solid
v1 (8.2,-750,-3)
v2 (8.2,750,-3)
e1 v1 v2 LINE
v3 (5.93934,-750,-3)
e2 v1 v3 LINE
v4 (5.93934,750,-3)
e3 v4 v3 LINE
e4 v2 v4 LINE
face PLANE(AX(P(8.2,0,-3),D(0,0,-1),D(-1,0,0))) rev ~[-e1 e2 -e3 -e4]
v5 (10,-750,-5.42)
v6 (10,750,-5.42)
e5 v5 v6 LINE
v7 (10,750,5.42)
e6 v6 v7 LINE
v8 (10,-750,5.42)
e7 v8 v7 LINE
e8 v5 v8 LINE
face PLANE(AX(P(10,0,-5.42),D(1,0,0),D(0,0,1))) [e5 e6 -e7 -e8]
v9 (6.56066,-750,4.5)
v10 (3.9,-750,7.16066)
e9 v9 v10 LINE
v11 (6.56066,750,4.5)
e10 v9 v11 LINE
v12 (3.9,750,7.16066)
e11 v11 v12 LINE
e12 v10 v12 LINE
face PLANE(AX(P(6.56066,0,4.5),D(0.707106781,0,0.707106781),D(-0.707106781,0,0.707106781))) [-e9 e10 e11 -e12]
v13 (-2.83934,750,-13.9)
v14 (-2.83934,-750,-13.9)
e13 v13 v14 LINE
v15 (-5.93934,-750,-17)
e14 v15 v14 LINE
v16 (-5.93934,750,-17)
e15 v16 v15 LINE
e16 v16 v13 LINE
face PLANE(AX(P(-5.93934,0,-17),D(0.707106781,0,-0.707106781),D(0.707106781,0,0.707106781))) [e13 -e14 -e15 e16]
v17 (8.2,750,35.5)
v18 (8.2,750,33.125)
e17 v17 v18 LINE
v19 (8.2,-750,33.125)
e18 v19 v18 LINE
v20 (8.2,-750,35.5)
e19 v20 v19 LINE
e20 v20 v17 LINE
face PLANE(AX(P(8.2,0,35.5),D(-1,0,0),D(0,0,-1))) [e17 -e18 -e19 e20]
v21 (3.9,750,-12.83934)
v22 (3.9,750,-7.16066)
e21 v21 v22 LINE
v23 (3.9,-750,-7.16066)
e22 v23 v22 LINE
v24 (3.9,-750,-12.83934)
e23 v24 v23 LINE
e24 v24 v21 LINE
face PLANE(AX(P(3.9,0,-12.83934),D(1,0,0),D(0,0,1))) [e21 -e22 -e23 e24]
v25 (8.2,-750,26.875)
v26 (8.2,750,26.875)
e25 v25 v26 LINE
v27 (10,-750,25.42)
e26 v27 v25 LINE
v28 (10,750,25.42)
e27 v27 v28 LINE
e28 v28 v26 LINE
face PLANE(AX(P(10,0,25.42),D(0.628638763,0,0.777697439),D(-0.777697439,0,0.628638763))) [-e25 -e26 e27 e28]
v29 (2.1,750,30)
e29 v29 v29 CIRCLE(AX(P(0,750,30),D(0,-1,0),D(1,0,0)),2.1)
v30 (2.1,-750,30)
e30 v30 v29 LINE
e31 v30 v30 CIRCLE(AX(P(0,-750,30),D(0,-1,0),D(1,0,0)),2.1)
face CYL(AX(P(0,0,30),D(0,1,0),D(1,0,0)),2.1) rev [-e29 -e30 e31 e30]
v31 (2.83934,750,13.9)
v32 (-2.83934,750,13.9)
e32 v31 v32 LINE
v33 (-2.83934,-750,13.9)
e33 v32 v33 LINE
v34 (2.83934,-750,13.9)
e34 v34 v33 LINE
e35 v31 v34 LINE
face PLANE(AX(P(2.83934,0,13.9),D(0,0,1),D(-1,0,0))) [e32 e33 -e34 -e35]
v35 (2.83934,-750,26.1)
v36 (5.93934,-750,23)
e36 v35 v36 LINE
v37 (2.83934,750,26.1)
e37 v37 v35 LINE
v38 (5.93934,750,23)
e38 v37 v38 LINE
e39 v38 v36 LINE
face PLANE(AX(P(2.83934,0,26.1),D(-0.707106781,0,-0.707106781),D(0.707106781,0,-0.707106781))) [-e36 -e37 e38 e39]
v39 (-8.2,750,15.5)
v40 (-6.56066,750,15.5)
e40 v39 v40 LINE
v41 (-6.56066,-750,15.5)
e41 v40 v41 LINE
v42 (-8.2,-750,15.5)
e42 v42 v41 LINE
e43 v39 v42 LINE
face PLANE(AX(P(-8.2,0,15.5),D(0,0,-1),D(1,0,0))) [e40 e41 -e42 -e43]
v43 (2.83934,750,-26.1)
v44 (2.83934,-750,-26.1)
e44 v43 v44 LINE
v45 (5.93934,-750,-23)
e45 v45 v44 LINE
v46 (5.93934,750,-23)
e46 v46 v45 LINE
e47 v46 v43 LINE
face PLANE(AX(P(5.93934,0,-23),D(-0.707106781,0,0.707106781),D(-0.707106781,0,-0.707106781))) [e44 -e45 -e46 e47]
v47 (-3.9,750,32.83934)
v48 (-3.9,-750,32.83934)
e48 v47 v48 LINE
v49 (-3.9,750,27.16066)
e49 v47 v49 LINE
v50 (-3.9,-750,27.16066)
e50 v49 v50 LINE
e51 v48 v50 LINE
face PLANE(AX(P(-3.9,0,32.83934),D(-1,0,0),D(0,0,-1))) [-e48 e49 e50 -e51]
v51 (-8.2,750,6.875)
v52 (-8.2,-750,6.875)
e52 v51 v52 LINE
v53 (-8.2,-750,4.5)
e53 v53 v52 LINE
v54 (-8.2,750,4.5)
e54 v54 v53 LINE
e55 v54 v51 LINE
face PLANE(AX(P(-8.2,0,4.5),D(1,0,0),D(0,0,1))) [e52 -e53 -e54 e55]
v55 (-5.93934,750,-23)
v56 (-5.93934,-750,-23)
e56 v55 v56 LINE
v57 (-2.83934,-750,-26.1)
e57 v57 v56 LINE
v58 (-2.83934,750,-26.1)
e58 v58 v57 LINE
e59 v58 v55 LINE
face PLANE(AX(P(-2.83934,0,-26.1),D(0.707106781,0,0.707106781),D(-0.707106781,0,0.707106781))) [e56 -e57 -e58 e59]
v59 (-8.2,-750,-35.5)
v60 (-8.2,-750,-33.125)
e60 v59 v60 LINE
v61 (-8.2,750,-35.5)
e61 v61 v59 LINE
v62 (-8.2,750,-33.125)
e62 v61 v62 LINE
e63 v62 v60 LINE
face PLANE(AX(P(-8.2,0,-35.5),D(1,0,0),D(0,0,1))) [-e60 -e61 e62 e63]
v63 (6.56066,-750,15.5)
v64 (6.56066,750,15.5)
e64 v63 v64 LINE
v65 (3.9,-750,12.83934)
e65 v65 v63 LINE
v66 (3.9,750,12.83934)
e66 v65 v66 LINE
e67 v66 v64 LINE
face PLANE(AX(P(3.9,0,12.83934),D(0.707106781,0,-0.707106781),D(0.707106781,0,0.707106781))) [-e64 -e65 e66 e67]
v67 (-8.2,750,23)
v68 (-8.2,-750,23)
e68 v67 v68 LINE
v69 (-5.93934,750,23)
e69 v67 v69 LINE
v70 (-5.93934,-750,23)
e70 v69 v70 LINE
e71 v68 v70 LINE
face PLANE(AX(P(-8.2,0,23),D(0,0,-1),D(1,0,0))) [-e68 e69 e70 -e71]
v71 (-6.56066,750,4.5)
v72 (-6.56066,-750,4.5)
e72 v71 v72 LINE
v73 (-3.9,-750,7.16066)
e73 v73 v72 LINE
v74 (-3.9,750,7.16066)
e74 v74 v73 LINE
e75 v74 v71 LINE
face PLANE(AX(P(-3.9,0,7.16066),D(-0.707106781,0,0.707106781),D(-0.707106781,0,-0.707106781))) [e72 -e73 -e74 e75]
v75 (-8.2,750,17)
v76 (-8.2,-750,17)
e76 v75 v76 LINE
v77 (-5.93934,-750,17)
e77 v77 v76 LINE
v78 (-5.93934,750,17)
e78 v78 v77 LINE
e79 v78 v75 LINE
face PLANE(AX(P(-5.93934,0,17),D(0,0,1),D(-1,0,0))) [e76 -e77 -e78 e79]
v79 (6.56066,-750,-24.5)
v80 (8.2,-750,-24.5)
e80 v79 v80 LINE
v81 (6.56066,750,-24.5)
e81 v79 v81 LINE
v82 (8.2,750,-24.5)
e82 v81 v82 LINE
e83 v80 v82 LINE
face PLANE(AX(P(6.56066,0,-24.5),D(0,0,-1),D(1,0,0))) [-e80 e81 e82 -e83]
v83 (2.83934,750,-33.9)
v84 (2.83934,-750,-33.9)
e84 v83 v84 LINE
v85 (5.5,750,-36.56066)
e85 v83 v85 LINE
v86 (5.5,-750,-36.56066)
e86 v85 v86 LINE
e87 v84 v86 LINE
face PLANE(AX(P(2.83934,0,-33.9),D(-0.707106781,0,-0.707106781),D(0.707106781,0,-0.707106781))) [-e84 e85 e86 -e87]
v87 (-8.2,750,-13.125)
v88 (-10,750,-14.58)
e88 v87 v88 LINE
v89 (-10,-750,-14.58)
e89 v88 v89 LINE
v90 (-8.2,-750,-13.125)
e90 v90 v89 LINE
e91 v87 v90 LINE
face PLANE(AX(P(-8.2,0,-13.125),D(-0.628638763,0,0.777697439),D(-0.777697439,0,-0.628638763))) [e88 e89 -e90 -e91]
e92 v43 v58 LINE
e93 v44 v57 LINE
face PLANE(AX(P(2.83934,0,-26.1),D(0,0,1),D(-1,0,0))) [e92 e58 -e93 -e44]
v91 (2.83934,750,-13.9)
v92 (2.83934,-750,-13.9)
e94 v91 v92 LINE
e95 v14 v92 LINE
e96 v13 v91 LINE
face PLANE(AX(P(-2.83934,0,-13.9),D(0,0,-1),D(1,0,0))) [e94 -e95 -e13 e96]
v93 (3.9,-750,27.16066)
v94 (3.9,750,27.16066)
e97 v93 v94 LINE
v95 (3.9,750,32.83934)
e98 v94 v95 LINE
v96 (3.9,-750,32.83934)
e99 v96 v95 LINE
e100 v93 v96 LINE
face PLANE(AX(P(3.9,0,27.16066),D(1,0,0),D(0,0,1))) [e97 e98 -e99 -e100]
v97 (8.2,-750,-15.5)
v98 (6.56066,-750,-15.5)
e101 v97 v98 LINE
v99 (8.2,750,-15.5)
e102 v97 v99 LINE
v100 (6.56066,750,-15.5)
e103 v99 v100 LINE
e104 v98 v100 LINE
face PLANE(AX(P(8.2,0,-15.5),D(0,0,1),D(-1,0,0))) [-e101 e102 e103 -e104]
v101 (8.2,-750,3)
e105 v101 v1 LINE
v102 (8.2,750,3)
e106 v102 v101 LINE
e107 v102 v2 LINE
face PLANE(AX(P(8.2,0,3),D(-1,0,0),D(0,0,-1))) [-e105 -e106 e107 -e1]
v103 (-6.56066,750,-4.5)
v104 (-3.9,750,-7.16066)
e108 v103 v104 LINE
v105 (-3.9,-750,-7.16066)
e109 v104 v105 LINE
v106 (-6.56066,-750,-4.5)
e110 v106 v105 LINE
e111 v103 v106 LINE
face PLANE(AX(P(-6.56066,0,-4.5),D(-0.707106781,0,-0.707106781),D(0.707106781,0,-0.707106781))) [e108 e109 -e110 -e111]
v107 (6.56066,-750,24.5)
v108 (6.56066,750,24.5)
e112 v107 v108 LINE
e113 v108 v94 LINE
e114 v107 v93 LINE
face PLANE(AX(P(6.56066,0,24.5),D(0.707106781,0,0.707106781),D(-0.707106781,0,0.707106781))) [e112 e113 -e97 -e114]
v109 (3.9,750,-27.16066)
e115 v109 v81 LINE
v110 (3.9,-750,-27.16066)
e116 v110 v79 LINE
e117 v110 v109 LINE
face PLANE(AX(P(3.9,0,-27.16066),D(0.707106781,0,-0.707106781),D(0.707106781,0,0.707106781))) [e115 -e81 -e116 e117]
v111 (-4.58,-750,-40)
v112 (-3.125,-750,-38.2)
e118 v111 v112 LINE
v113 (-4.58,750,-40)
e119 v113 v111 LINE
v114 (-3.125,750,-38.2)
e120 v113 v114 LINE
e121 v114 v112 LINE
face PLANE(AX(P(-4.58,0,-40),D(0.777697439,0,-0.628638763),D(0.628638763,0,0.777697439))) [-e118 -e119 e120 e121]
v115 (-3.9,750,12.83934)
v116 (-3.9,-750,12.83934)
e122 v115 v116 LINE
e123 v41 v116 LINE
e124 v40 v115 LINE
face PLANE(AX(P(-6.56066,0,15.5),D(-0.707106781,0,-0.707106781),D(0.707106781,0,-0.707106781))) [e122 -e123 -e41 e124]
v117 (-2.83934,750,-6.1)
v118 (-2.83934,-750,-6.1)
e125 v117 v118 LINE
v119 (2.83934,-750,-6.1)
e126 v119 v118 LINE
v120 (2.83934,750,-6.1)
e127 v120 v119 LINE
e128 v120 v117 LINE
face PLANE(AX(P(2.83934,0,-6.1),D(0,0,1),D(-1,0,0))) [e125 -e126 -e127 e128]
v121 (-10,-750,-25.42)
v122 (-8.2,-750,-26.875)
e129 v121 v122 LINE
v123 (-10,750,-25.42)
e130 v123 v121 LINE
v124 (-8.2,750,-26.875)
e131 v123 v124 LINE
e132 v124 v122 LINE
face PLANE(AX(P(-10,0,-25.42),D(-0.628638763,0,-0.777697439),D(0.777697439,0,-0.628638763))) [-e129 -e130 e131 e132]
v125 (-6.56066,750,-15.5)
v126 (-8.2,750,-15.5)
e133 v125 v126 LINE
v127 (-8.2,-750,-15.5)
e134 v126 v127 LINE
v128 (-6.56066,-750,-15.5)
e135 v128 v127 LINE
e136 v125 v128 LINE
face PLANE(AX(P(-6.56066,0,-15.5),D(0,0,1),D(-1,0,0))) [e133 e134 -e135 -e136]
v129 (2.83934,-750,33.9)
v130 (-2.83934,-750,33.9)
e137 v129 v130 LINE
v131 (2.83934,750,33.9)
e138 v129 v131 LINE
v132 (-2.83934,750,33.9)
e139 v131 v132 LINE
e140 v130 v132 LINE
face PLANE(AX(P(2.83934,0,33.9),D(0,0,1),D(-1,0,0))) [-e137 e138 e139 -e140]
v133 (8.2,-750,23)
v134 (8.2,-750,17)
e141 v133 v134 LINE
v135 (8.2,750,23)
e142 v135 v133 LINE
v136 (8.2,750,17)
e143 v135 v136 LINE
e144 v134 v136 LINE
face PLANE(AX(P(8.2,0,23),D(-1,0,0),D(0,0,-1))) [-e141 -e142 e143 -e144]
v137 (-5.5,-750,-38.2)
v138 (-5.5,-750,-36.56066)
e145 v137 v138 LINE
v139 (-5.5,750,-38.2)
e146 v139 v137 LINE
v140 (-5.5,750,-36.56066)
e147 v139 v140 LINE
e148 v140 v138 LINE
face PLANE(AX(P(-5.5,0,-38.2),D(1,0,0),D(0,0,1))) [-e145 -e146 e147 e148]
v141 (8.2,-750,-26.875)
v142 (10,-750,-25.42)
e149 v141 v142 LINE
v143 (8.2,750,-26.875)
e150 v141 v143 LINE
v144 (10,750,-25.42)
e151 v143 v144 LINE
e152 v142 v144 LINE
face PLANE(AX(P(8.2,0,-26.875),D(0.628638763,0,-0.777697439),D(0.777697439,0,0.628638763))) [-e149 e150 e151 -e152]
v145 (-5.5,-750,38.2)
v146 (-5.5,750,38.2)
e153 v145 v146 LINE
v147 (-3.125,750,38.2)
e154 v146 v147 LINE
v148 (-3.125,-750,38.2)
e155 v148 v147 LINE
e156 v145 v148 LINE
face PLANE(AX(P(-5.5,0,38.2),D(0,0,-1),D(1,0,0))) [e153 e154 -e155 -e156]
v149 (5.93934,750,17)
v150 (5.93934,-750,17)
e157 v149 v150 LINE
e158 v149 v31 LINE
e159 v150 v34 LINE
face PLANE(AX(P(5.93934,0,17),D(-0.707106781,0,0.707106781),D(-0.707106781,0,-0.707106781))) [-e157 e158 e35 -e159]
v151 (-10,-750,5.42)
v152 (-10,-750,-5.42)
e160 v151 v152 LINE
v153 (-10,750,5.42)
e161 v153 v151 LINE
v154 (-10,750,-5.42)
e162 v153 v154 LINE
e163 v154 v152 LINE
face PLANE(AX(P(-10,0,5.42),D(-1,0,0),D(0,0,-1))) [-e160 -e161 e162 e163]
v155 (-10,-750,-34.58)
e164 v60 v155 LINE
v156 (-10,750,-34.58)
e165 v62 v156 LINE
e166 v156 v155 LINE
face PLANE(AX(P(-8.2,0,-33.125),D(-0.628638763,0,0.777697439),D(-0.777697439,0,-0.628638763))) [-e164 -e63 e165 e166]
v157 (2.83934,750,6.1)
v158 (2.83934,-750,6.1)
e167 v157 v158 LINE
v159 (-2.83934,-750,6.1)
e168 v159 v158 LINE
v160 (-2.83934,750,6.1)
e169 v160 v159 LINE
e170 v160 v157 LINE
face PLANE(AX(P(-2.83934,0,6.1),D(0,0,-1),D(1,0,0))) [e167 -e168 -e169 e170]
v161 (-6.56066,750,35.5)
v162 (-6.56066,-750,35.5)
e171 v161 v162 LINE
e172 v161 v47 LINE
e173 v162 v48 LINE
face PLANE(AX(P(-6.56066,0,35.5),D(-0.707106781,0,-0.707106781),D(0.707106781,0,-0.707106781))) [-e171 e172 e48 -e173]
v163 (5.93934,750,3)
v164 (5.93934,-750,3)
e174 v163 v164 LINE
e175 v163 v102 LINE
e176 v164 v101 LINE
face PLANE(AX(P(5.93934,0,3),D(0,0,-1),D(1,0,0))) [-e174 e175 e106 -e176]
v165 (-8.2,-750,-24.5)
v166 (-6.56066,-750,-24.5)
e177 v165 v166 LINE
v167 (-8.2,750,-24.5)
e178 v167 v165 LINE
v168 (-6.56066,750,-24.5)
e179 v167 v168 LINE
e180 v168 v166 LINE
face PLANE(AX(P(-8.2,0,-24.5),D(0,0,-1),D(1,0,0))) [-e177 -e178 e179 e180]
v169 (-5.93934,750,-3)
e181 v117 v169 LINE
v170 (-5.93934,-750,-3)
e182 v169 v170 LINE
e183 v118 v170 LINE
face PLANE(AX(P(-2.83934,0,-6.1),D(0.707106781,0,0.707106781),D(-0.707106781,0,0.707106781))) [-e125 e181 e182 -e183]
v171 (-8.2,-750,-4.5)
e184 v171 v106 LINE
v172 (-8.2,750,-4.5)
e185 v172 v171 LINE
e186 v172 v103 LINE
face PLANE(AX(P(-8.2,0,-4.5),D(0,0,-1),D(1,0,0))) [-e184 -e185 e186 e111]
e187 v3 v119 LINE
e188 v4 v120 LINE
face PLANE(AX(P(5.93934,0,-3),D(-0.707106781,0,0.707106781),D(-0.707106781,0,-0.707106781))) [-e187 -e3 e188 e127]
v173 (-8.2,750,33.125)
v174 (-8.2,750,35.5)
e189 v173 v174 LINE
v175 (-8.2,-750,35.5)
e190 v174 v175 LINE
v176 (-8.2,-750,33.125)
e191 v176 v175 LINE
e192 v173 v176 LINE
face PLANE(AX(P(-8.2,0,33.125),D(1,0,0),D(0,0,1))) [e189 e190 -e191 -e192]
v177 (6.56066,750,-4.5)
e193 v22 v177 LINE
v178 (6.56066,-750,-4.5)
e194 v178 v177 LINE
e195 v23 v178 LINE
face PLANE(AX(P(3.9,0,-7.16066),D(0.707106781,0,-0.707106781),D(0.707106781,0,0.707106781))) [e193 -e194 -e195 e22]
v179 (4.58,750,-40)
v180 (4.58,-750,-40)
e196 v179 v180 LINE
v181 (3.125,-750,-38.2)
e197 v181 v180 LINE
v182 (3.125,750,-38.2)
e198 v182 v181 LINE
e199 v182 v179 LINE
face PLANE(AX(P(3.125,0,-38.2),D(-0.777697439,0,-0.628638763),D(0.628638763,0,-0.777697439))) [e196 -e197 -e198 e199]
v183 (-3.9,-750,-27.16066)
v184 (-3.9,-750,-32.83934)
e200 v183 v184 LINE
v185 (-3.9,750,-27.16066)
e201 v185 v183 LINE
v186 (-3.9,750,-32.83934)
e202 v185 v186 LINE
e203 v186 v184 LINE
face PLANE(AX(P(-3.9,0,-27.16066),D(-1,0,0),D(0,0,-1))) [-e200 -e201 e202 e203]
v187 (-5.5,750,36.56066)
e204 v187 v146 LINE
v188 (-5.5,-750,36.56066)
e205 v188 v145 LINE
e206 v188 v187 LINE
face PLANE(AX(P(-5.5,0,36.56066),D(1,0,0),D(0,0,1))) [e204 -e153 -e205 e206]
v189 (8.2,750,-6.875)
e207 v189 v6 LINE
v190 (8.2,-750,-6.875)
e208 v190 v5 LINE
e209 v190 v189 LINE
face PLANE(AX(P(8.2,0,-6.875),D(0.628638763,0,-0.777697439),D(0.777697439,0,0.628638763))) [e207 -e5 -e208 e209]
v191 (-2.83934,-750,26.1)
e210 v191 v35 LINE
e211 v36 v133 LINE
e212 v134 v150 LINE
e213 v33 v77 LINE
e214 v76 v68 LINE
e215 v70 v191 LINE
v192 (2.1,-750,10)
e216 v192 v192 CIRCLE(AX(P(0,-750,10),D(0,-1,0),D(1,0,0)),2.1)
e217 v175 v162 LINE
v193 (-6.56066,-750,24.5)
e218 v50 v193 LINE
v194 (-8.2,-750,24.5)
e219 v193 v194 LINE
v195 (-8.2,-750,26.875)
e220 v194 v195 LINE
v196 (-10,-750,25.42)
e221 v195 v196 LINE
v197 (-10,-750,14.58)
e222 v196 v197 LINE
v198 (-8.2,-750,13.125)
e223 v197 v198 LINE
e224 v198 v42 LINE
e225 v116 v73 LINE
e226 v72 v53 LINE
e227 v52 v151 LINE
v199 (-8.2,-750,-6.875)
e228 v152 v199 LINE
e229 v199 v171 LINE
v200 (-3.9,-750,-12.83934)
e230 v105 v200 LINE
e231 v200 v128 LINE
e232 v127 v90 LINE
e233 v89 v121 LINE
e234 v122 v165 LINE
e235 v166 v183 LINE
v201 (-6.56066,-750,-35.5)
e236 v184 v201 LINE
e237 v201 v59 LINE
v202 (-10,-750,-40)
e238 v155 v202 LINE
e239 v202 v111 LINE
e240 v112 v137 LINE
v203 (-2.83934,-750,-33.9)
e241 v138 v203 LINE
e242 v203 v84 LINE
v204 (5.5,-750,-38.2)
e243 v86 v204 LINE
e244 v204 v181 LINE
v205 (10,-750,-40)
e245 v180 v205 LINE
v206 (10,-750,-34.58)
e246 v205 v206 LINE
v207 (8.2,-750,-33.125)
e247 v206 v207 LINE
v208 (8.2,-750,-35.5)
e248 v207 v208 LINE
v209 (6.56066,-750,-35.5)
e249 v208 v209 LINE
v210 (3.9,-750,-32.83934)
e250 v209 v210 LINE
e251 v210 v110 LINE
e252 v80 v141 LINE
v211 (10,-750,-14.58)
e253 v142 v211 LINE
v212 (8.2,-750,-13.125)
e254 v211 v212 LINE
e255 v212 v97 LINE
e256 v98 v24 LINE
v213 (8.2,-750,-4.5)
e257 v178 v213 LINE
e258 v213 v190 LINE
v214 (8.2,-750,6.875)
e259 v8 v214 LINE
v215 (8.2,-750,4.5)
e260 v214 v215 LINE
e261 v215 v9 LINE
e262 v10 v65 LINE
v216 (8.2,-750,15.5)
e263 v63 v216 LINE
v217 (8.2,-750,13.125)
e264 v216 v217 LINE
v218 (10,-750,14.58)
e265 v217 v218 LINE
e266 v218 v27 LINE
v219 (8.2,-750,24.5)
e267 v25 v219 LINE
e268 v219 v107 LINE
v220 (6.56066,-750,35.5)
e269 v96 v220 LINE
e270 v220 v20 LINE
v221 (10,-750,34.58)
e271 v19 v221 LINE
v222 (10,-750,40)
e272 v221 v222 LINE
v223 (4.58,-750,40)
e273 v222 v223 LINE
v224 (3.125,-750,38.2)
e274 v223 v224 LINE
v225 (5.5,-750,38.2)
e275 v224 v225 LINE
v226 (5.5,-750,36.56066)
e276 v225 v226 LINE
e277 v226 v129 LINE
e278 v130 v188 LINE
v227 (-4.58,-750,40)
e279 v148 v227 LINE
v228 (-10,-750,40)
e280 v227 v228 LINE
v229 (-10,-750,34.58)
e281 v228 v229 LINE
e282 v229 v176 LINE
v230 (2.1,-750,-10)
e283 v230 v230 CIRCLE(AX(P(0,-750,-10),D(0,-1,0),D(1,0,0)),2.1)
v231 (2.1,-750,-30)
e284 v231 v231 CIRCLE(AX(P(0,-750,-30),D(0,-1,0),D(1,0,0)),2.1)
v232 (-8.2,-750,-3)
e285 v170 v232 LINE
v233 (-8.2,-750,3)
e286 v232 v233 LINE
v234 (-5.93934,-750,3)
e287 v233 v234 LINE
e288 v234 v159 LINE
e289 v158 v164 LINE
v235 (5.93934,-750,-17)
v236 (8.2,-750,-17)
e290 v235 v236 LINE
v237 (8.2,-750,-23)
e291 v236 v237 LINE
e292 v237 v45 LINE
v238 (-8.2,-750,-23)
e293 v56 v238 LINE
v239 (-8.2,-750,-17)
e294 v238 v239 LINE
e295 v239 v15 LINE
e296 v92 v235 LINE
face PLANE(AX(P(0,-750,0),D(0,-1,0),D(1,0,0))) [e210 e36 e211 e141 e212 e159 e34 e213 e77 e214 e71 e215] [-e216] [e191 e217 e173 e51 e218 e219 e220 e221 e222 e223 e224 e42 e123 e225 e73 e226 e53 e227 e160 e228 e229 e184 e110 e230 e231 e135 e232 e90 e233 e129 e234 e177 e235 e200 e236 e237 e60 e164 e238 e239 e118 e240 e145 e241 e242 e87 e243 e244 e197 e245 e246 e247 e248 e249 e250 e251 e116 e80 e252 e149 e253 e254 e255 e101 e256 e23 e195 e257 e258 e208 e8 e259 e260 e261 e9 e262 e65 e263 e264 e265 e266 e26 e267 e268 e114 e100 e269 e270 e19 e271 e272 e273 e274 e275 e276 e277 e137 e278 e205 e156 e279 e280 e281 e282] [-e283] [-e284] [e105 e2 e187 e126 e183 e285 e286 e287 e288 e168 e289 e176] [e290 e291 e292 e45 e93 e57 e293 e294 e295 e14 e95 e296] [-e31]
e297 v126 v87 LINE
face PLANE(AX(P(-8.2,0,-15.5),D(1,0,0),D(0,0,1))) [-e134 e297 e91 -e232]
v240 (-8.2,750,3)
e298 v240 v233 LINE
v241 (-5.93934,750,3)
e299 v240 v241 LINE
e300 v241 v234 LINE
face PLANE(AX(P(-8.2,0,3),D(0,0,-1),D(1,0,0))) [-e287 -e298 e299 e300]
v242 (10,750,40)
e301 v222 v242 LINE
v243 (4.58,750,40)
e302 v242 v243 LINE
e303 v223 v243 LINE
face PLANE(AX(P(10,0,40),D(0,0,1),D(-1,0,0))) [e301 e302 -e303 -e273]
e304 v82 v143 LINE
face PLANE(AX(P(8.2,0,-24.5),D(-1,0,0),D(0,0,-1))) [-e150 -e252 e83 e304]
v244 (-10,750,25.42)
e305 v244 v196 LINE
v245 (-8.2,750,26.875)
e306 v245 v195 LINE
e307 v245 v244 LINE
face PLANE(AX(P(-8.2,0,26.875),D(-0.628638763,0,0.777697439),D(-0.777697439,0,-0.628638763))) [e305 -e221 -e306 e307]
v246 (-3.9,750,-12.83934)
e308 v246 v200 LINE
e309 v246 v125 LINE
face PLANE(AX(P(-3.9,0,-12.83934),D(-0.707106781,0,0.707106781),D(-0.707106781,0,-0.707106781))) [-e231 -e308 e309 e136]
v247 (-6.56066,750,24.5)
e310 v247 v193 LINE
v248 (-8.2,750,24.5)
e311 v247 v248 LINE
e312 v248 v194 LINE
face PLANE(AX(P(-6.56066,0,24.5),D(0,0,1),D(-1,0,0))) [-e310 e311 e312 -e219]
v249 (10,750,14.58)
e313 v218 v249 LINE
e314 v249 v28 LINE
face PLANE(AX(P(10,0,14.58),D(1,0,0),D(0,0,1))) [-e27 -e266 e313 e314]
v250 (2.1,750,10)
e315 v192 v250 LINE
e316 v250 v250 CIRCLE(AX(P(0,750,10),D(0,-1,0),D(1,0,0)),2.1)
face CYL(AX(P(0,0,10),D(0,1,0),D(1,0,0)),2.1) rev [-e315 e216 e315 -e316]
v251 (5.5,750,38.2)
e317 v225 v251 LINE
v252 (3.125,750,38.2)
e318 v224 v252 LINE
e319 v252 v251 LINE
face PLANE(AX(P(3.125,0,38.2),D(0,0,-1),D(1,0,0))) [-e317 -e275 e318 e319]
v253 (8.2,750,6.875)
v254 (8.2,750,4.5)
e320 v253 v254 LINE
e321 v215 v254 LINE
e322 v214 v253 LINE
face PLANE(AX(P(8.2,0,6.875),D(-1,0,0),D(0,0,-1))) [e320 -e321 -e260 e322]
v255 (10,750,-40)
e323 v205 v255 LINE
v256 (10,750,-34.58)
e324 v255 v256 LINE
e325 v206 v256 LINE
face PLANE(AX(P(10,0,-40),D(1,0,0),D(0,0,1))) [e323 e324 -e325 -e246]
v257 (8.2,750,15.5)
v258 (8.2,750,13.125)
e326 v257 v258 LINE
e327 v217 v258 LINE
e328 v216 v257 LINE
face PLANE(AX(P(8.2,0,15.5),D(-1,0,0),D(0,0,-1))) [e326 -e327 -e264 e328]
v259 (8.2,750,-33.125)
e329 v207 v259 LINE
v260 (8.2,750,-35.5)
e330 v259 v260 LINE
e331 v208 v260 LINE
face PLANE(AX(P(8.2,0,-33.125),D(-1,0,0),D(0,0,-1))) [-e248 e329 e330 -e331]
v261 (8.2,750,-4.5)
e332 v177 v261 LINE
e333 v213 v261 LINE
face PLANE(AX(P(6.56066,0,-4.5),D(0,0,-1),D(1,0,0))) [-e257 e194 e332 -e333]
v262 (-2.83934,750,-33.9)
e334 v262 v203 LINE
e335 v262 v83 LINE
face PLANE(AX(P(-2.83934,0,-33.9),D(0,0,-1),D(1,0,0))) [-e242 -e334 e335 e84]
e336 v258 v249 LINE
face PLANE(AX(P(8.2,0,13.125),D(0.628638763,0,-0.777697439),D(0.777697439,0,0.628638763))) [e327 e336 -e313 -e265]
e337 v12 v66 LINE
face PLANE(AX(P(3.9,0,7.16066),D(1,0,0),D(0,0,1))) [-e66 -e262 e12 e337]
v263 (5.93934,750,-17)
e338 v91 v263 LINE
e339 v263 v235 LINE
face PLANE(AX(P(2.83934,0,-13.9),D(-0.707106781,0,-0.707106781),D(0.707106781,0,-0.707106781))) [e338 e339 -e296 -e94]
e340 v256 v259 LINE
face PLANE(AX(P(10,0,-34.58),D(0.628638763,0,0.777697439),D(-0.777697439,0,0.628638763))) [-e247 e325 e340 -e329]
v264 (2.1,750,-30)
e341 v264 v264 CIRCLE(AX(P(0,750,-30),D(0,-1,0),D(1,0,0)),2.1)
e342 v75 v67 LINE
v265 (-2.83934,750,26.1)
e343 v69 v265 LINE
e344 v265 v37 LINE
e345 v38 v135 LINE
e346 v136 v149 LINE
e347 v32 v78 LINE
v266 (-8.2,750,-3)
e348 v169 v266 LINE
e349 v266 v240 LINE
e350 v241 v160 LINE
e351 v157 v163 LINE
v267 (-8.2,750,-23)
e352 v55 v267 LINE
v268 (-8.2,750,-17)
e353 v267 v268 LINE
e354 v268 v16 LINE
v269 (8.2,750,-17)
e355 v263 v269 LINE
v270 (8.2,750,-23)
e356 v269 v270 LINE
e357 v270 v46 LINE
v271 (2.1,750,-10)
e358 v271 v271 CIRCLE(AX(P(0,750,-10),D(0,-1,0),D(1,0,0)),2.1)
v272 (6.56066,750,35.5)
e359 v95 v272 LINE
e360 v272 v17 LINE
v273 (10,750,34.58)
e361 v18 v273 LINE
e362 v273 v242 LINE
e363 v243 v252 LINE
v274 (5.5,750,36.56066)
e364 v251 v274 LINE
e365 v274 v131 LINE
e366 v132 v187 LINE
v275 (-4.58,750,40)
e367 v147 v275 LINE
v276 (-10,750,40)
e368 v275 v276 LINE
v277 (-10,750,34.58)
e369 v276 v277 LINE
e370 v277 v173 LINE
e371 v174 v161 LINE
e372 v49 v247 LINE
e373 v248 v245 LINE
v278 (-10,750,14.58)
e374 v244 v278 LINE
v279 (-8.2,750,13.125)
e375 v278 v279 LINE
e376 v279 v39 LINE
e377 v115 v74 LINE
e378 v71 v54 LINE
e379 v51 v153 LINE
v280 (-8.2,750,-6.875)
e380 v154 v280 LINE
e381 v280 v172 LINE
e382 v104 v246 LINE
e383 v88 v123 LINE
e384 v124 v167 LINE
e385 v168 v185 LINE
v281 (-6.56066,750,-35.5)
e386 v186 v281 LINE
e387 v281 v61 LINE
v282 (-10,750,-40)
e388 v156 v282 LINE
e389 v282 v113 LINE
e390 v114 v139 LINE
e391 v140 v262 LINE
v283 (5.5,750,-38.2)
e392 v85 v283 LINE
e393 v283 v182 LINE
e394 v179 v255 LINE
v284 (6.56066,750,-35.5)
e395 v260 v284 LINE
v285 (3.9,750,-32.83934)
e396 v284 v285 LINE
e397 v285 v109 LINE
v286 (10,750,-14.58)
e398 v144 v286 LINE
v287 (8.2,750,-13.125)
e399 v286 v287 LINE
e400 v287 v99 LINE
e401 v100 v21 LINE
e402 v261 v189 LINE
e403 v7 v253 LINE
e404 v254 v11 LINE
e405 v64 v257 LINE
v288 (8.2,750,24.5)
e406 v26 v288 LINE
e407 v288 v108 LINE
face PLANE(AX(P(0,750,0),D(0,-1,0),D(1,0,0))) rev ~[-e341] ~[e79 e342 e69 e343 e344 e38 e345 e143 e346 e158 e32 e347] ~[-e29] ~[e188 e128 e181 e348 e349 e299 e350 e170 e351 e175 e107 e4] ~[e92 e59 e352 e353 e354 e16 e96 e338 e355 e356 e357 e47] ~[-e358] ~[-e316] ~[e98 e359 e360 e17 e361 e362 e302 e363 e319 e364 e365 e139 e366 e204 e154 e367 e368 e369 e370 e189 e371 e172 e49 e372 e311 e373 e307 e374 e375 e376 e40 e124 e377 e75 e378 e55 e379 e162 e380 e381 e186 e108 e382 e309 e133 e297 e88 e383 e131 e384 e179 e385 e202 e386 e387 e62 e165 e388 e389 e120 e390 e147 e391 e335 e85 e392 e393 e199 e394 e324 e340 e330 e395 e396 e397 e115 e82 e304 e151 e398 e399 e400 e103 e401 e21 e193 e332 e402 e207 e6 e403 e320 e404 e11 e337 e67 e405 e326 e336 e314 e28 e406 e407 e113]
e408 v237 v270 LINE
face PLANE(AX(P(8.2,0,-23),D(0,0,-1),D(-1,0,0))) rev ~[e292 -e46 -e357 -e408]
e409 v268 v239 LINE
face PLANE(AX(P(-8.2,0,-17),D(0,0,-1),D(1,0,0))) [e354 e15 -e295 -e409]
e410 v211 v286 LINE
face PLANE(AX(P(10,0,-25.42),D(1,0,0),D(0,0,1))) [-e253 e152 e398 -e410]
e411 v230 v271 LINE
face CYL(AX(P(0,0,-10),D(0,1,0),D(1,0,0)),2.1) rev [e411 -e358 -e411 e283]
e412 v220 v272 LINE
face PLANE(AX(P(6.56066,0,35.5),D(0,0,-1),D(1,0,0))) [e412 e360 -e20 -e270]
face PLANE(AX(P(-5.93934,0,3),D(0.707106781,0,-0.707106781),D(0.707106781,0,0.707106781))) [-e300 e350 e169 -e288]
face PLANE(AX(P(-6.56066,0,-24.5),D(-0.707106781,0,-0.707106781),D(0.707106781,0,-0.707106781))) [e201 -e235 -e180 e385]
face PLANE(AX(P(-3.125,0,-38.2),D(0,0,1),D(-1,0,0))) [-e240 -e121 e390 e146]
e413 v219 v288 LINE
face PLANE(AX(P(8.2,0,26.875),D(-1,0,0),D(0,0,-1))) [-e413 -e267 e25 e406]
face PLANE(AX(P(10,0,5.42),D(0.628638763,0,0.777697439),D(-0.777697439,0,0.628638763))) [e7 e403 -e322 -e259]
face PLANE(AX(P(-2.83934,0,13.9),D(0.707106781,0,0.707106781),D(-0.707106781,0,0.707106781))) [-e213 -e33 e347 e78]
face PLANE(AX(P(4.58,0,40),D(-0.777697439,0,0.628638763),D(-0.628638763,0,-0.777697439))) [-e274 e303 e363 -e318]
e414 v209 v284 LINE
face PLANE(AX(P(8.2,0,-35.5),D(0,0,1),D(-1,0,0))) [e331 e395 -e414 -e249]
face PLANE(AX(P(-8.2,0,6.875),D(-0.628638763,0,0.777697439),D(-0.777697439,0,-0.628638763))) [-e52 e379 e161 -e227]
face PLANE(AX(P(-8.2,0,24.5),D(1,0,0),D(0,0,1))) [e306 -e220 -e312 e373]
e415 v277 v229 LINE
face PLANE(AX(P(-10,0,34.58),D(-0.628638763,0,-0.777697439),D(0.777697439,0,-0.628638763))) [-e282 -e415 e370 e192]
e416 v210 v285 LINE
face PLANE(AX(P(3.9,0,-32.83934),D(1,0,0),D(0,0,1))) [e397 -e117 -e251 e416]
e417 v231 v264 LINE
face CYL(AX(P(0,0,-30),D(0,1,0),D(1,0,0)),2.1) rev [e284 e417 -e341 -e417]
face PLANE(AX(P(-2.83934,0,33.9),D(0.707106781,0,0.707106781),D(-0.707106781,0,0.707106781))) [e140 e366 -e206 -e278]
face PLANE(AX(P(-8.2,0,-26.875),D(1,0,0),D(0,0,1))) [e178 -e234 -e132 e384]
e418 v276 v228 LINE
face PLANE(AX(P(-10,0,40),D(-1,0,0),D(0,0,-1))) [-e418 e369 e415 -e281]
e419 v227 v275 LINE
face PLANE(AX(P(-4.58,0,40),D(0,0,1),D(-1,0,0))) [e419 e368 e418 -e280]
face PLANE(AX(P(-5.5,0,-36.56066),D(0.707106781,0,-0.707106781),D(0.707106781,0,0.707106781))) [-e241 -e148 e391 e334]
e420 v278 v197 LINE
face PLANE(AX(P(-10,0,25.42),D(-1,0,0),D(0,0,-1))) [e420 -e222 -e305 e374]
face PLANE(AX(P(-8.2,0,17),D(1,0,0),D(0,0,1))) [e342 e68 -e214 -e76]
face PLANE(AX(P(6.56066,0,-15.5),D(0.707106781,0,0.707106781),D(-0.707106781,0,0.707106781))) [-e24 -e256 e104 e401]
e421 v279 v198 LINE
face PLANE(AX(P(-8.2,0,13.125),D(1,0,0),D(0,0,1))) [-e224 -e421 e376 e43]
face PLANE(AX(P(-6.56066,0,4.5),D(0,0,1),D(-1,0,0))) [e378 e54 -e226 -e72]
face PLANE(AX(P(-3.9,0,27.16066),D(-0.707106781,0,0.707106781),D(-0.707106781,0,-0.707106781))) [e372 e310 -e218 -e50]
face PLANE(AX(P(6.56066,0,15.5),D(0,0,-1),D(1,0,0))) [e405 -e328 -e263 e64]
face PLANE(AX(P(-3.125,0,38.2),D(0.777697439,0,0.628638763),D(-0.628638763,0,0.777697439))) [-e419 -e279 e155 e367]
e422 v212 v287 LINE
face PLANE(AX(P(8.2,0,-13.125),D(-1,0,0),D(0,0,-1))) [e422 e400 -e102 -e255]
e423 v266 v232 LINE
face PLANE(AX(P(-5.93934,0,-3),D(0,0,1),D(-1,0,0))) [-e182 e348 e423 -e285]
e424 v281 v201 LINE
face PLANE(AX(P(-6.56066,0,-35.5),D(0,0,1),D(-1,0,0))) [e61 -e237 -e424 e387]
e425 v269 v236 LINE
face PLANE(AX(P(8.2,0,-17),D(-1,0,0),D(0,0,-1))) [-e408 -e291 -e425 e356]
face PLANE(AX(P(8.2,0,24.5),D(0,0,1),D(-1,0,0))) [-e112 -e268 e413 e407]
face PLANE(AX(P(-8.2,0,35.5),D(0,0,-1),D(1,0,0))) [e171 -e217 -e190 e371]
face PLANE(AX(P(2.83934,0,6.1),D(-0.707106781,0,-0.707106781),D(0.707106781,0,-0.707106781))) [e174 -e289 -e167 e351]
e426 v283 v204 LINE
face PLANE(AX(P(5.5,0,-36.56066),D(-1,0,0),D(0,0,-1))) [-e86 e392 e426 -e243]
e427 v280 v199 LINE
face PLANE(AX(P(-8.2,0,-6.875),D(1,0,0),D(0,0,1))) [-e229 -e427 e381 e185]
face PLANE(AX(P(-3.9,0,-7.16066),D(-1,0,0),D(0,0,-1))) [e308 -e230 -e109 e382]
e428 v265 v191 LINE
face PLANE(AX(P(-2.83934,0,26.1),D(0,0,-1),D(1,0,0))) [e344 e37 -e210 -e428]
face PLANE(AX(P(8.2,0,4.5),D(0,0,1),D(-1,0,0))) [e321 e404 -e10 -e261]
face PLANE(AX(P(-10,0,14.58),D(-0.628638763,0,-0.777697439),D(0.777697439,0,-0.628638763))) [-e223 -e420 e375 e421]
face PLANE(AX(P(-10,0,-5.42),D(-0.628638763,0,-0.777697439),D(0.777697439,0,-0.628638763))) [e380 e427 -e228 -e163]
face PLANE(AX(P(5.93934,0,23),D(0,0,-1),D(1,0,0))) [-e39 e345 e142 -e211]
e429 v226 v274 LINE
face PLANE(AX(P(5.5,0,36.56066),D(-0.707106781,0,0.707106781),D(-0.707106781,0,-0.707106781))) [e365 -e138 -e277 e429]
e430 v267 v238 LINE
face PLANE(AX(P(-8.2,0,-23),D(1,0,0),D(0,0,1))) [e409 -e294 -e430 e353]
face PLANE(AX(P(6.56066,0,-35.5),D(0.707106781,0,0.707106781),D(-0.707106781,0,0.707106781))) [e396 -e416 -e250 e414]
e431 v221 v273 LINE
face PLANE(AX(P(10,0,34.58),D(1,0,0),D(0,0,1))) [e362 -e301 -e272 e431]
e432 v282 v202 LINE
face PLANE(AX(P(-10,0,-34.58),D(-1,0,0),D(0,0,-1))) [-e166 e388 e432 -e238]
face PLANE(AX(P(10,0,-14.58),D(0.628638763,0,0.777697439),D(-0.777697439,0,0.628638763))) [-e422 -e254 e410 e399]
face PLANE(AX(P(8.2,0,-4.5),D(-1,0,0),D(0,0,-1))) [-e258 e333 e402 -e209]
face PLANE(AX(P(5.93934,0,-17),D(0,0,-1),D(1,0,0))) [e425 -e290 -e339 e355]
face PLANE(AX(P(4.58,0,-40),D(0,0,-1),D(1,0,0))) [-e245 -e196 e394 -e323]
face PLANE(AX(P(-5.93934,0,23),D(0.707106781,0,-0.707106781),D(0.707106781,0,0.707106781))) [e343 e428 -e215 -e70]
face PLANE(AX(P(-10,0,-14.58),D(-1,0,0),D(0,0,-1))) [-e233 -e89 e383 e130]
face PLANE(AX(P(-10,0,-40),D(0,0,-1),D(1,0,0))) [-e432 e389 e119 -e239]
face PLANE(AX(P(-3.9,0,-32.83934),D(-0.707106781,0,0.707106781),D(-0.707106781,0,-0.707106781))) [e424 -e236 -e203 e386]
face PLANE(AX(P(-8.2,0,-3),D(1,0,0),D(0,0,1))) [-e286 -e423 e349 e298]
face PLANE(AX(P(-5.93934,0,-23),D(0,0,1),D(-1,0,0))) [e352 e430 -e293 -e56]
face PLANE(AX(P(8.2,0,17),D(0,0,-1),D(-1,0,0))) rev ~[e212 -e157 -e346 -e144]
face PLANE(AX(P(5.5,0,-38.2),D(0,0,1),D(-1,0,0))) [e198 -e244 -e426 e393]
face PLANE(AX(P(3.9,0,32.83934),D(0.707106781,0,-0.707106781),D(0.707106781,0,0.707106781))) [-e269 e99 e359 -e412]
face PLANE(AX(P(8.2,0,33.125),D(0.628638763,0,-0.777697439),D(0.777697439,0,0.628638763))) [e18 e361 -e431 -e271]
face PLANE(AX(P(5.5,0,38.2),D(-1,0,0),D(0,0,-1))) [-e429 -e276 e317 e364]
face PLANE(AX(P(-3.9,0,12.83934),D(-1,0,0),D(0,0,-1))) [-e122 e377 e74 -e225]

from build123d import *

# Parameters (mm, degrees)
F0_R     = 2.1
F1_DEPTH = 750


with BuildPart() as f1:
    # F0 (on Front) → F1 (new body, symmetric)
    with BuildSketch(Plane.XZ):
        Polygon((-4.58, 40), (-10, 40), (-10, 34.58), (-8.2, 33.125), (-8.2, 35.5), (-6.56066, 35.5), (-3.9, 32.83934), (-3.9, 27.16066), (-6.56066, 24.5), (-8.2, 24.5), (-8.2, 26.875), (-10, 25.42), (-10, 14.58), (-8.2, 13.125), (-8.2, 15.5), (-6.56066, 15.5), (-3.9, 12.83934), (-3.9, 7.16066), (-6.56066, 4.5), (-8.2, 4.5), (-8.2, 6.875), (-10, 5.42), (-10, -5.42), (-8.2, -6.875), (-8.2, -4.5), (-6.56066, -4.5), (-3.9, -7.16066), (-3.9, -12.83934), (-6.56066, -15.5), (-8.2, -15.5), (-8.2, -13.125), (-10, -14.58), (-10, -25.42), (-8.2, -26.875), (-8.2, -24.5), (-6.56066, -24.5), (-3.9, -27.16066), (-3.9, -32.83934), (-6.56066, -35.5), (-8.2, -35.5), (-8.2, -33.125), (-10, -34.58), (-10, -40), (-4.58, -40), (-3.125, -38.2), (-5.5, -38.2), (-5.5, -36.56066), (-2.83934, -33.9), (2.83934, -33.9), (5.5, -36.56066), (5.5, -38.2), (3.125, -38.2), (4.58, -40), (10, -40), (10, -34.58), (8.2, -33.125), (8.2, -35.5), (6.56066, -35.5), (3.9, -32.83934), (3.9, -27.16066), (6.56066, -24.5), (8.2, -24.5), (8.2, -26.875), (10, -25.42), (10, -14.58), (8.2, -13.125), (8.2, -15.5), (6.56066, -15.5), (3.9, -12.83934), (3.9, -7.16066), (6.56066, -4.5), (8.2, -4.5), (8.2, -6.875), (10, -5.42), (10, 5.42), (8.2, 6.875), (8.2, 4.5), (6.56066, 4.5), (3.9, 7.16066), (3.9, 12.83934), (6.56066, 15.5), (8.2, 15.5), (8.2, 13.125), (10, 14.58), (10, 25.42), (8.2, 26.875), (8.2, 24.5), (6.56066, 24.5), (3.9, 27.16066), (3.9, 32.83934), (6.56066, 35.5), (8.2, 35.5), (8.2, 33.125), (10, 34.58), (10, 40), (4.58, 40), (3.125, 38.2), (5.5, 38.2), (5.5, 36.56066), (2.83934, 33.9), (-2.83934, 33.9), (-5.5, 36.56066), (-5.5, 38.2), (-3.125, 38.2), align=None)
        with Locations((0, -30)):
            Circle(F0_R, mode=Mode.SUBTRACT)
        Polygon((-5.93934, -17), (-2.83934, -13.9), (2.83934, -13.9), (5.93934, -17), (8.2, -17), (8.2, -23), (5.93934, -23), (2.83934, -26.1), (-2.83934, -26.1), (-5.93934, -23), (-8.2, -23), (-8.2, -17), align=None, mode=Mode.SUBTRACT)
        with Locations((0, -10)):
            Circle(F0_R, mode=Mode.SUBTRACT)
        Polygon((-5.93934, 3), (-2.83934, 6.1), (2.83934, 6.1), (5.93934, 3), (8.2, 3), (8.2, -3), (5.93934, -3), (2.83934, -6.1), (-2.83934, -6.1), (-5.93934, -3), (-8.2, -3), (-8.2, 3), align=None, mode=Mode.SUBTRACT)
        with Locations((0, 10)):
            Circle(F0_R, mode=Mode.SUBTRACT)
        Polygon((-5.93934, 23), (-2.83934, 26.1), (2.83934, 26.1), (5.93934, 23), (8.2, 23), (8.2, 17), (5.93934, 17), (2.83934, 13.9), (-2.83934, 13.9), (-5.93934, 17), (-8.2, 17), (-8.2, 23), align=None, mode=Mode.SUBTRACT)
        with Locations((0, 30)):
            Circle(F0_R, mode=Mode.SUBTRACT)
    extrude(amount=F1_DEPTH, both=True)


solid = f1.part
